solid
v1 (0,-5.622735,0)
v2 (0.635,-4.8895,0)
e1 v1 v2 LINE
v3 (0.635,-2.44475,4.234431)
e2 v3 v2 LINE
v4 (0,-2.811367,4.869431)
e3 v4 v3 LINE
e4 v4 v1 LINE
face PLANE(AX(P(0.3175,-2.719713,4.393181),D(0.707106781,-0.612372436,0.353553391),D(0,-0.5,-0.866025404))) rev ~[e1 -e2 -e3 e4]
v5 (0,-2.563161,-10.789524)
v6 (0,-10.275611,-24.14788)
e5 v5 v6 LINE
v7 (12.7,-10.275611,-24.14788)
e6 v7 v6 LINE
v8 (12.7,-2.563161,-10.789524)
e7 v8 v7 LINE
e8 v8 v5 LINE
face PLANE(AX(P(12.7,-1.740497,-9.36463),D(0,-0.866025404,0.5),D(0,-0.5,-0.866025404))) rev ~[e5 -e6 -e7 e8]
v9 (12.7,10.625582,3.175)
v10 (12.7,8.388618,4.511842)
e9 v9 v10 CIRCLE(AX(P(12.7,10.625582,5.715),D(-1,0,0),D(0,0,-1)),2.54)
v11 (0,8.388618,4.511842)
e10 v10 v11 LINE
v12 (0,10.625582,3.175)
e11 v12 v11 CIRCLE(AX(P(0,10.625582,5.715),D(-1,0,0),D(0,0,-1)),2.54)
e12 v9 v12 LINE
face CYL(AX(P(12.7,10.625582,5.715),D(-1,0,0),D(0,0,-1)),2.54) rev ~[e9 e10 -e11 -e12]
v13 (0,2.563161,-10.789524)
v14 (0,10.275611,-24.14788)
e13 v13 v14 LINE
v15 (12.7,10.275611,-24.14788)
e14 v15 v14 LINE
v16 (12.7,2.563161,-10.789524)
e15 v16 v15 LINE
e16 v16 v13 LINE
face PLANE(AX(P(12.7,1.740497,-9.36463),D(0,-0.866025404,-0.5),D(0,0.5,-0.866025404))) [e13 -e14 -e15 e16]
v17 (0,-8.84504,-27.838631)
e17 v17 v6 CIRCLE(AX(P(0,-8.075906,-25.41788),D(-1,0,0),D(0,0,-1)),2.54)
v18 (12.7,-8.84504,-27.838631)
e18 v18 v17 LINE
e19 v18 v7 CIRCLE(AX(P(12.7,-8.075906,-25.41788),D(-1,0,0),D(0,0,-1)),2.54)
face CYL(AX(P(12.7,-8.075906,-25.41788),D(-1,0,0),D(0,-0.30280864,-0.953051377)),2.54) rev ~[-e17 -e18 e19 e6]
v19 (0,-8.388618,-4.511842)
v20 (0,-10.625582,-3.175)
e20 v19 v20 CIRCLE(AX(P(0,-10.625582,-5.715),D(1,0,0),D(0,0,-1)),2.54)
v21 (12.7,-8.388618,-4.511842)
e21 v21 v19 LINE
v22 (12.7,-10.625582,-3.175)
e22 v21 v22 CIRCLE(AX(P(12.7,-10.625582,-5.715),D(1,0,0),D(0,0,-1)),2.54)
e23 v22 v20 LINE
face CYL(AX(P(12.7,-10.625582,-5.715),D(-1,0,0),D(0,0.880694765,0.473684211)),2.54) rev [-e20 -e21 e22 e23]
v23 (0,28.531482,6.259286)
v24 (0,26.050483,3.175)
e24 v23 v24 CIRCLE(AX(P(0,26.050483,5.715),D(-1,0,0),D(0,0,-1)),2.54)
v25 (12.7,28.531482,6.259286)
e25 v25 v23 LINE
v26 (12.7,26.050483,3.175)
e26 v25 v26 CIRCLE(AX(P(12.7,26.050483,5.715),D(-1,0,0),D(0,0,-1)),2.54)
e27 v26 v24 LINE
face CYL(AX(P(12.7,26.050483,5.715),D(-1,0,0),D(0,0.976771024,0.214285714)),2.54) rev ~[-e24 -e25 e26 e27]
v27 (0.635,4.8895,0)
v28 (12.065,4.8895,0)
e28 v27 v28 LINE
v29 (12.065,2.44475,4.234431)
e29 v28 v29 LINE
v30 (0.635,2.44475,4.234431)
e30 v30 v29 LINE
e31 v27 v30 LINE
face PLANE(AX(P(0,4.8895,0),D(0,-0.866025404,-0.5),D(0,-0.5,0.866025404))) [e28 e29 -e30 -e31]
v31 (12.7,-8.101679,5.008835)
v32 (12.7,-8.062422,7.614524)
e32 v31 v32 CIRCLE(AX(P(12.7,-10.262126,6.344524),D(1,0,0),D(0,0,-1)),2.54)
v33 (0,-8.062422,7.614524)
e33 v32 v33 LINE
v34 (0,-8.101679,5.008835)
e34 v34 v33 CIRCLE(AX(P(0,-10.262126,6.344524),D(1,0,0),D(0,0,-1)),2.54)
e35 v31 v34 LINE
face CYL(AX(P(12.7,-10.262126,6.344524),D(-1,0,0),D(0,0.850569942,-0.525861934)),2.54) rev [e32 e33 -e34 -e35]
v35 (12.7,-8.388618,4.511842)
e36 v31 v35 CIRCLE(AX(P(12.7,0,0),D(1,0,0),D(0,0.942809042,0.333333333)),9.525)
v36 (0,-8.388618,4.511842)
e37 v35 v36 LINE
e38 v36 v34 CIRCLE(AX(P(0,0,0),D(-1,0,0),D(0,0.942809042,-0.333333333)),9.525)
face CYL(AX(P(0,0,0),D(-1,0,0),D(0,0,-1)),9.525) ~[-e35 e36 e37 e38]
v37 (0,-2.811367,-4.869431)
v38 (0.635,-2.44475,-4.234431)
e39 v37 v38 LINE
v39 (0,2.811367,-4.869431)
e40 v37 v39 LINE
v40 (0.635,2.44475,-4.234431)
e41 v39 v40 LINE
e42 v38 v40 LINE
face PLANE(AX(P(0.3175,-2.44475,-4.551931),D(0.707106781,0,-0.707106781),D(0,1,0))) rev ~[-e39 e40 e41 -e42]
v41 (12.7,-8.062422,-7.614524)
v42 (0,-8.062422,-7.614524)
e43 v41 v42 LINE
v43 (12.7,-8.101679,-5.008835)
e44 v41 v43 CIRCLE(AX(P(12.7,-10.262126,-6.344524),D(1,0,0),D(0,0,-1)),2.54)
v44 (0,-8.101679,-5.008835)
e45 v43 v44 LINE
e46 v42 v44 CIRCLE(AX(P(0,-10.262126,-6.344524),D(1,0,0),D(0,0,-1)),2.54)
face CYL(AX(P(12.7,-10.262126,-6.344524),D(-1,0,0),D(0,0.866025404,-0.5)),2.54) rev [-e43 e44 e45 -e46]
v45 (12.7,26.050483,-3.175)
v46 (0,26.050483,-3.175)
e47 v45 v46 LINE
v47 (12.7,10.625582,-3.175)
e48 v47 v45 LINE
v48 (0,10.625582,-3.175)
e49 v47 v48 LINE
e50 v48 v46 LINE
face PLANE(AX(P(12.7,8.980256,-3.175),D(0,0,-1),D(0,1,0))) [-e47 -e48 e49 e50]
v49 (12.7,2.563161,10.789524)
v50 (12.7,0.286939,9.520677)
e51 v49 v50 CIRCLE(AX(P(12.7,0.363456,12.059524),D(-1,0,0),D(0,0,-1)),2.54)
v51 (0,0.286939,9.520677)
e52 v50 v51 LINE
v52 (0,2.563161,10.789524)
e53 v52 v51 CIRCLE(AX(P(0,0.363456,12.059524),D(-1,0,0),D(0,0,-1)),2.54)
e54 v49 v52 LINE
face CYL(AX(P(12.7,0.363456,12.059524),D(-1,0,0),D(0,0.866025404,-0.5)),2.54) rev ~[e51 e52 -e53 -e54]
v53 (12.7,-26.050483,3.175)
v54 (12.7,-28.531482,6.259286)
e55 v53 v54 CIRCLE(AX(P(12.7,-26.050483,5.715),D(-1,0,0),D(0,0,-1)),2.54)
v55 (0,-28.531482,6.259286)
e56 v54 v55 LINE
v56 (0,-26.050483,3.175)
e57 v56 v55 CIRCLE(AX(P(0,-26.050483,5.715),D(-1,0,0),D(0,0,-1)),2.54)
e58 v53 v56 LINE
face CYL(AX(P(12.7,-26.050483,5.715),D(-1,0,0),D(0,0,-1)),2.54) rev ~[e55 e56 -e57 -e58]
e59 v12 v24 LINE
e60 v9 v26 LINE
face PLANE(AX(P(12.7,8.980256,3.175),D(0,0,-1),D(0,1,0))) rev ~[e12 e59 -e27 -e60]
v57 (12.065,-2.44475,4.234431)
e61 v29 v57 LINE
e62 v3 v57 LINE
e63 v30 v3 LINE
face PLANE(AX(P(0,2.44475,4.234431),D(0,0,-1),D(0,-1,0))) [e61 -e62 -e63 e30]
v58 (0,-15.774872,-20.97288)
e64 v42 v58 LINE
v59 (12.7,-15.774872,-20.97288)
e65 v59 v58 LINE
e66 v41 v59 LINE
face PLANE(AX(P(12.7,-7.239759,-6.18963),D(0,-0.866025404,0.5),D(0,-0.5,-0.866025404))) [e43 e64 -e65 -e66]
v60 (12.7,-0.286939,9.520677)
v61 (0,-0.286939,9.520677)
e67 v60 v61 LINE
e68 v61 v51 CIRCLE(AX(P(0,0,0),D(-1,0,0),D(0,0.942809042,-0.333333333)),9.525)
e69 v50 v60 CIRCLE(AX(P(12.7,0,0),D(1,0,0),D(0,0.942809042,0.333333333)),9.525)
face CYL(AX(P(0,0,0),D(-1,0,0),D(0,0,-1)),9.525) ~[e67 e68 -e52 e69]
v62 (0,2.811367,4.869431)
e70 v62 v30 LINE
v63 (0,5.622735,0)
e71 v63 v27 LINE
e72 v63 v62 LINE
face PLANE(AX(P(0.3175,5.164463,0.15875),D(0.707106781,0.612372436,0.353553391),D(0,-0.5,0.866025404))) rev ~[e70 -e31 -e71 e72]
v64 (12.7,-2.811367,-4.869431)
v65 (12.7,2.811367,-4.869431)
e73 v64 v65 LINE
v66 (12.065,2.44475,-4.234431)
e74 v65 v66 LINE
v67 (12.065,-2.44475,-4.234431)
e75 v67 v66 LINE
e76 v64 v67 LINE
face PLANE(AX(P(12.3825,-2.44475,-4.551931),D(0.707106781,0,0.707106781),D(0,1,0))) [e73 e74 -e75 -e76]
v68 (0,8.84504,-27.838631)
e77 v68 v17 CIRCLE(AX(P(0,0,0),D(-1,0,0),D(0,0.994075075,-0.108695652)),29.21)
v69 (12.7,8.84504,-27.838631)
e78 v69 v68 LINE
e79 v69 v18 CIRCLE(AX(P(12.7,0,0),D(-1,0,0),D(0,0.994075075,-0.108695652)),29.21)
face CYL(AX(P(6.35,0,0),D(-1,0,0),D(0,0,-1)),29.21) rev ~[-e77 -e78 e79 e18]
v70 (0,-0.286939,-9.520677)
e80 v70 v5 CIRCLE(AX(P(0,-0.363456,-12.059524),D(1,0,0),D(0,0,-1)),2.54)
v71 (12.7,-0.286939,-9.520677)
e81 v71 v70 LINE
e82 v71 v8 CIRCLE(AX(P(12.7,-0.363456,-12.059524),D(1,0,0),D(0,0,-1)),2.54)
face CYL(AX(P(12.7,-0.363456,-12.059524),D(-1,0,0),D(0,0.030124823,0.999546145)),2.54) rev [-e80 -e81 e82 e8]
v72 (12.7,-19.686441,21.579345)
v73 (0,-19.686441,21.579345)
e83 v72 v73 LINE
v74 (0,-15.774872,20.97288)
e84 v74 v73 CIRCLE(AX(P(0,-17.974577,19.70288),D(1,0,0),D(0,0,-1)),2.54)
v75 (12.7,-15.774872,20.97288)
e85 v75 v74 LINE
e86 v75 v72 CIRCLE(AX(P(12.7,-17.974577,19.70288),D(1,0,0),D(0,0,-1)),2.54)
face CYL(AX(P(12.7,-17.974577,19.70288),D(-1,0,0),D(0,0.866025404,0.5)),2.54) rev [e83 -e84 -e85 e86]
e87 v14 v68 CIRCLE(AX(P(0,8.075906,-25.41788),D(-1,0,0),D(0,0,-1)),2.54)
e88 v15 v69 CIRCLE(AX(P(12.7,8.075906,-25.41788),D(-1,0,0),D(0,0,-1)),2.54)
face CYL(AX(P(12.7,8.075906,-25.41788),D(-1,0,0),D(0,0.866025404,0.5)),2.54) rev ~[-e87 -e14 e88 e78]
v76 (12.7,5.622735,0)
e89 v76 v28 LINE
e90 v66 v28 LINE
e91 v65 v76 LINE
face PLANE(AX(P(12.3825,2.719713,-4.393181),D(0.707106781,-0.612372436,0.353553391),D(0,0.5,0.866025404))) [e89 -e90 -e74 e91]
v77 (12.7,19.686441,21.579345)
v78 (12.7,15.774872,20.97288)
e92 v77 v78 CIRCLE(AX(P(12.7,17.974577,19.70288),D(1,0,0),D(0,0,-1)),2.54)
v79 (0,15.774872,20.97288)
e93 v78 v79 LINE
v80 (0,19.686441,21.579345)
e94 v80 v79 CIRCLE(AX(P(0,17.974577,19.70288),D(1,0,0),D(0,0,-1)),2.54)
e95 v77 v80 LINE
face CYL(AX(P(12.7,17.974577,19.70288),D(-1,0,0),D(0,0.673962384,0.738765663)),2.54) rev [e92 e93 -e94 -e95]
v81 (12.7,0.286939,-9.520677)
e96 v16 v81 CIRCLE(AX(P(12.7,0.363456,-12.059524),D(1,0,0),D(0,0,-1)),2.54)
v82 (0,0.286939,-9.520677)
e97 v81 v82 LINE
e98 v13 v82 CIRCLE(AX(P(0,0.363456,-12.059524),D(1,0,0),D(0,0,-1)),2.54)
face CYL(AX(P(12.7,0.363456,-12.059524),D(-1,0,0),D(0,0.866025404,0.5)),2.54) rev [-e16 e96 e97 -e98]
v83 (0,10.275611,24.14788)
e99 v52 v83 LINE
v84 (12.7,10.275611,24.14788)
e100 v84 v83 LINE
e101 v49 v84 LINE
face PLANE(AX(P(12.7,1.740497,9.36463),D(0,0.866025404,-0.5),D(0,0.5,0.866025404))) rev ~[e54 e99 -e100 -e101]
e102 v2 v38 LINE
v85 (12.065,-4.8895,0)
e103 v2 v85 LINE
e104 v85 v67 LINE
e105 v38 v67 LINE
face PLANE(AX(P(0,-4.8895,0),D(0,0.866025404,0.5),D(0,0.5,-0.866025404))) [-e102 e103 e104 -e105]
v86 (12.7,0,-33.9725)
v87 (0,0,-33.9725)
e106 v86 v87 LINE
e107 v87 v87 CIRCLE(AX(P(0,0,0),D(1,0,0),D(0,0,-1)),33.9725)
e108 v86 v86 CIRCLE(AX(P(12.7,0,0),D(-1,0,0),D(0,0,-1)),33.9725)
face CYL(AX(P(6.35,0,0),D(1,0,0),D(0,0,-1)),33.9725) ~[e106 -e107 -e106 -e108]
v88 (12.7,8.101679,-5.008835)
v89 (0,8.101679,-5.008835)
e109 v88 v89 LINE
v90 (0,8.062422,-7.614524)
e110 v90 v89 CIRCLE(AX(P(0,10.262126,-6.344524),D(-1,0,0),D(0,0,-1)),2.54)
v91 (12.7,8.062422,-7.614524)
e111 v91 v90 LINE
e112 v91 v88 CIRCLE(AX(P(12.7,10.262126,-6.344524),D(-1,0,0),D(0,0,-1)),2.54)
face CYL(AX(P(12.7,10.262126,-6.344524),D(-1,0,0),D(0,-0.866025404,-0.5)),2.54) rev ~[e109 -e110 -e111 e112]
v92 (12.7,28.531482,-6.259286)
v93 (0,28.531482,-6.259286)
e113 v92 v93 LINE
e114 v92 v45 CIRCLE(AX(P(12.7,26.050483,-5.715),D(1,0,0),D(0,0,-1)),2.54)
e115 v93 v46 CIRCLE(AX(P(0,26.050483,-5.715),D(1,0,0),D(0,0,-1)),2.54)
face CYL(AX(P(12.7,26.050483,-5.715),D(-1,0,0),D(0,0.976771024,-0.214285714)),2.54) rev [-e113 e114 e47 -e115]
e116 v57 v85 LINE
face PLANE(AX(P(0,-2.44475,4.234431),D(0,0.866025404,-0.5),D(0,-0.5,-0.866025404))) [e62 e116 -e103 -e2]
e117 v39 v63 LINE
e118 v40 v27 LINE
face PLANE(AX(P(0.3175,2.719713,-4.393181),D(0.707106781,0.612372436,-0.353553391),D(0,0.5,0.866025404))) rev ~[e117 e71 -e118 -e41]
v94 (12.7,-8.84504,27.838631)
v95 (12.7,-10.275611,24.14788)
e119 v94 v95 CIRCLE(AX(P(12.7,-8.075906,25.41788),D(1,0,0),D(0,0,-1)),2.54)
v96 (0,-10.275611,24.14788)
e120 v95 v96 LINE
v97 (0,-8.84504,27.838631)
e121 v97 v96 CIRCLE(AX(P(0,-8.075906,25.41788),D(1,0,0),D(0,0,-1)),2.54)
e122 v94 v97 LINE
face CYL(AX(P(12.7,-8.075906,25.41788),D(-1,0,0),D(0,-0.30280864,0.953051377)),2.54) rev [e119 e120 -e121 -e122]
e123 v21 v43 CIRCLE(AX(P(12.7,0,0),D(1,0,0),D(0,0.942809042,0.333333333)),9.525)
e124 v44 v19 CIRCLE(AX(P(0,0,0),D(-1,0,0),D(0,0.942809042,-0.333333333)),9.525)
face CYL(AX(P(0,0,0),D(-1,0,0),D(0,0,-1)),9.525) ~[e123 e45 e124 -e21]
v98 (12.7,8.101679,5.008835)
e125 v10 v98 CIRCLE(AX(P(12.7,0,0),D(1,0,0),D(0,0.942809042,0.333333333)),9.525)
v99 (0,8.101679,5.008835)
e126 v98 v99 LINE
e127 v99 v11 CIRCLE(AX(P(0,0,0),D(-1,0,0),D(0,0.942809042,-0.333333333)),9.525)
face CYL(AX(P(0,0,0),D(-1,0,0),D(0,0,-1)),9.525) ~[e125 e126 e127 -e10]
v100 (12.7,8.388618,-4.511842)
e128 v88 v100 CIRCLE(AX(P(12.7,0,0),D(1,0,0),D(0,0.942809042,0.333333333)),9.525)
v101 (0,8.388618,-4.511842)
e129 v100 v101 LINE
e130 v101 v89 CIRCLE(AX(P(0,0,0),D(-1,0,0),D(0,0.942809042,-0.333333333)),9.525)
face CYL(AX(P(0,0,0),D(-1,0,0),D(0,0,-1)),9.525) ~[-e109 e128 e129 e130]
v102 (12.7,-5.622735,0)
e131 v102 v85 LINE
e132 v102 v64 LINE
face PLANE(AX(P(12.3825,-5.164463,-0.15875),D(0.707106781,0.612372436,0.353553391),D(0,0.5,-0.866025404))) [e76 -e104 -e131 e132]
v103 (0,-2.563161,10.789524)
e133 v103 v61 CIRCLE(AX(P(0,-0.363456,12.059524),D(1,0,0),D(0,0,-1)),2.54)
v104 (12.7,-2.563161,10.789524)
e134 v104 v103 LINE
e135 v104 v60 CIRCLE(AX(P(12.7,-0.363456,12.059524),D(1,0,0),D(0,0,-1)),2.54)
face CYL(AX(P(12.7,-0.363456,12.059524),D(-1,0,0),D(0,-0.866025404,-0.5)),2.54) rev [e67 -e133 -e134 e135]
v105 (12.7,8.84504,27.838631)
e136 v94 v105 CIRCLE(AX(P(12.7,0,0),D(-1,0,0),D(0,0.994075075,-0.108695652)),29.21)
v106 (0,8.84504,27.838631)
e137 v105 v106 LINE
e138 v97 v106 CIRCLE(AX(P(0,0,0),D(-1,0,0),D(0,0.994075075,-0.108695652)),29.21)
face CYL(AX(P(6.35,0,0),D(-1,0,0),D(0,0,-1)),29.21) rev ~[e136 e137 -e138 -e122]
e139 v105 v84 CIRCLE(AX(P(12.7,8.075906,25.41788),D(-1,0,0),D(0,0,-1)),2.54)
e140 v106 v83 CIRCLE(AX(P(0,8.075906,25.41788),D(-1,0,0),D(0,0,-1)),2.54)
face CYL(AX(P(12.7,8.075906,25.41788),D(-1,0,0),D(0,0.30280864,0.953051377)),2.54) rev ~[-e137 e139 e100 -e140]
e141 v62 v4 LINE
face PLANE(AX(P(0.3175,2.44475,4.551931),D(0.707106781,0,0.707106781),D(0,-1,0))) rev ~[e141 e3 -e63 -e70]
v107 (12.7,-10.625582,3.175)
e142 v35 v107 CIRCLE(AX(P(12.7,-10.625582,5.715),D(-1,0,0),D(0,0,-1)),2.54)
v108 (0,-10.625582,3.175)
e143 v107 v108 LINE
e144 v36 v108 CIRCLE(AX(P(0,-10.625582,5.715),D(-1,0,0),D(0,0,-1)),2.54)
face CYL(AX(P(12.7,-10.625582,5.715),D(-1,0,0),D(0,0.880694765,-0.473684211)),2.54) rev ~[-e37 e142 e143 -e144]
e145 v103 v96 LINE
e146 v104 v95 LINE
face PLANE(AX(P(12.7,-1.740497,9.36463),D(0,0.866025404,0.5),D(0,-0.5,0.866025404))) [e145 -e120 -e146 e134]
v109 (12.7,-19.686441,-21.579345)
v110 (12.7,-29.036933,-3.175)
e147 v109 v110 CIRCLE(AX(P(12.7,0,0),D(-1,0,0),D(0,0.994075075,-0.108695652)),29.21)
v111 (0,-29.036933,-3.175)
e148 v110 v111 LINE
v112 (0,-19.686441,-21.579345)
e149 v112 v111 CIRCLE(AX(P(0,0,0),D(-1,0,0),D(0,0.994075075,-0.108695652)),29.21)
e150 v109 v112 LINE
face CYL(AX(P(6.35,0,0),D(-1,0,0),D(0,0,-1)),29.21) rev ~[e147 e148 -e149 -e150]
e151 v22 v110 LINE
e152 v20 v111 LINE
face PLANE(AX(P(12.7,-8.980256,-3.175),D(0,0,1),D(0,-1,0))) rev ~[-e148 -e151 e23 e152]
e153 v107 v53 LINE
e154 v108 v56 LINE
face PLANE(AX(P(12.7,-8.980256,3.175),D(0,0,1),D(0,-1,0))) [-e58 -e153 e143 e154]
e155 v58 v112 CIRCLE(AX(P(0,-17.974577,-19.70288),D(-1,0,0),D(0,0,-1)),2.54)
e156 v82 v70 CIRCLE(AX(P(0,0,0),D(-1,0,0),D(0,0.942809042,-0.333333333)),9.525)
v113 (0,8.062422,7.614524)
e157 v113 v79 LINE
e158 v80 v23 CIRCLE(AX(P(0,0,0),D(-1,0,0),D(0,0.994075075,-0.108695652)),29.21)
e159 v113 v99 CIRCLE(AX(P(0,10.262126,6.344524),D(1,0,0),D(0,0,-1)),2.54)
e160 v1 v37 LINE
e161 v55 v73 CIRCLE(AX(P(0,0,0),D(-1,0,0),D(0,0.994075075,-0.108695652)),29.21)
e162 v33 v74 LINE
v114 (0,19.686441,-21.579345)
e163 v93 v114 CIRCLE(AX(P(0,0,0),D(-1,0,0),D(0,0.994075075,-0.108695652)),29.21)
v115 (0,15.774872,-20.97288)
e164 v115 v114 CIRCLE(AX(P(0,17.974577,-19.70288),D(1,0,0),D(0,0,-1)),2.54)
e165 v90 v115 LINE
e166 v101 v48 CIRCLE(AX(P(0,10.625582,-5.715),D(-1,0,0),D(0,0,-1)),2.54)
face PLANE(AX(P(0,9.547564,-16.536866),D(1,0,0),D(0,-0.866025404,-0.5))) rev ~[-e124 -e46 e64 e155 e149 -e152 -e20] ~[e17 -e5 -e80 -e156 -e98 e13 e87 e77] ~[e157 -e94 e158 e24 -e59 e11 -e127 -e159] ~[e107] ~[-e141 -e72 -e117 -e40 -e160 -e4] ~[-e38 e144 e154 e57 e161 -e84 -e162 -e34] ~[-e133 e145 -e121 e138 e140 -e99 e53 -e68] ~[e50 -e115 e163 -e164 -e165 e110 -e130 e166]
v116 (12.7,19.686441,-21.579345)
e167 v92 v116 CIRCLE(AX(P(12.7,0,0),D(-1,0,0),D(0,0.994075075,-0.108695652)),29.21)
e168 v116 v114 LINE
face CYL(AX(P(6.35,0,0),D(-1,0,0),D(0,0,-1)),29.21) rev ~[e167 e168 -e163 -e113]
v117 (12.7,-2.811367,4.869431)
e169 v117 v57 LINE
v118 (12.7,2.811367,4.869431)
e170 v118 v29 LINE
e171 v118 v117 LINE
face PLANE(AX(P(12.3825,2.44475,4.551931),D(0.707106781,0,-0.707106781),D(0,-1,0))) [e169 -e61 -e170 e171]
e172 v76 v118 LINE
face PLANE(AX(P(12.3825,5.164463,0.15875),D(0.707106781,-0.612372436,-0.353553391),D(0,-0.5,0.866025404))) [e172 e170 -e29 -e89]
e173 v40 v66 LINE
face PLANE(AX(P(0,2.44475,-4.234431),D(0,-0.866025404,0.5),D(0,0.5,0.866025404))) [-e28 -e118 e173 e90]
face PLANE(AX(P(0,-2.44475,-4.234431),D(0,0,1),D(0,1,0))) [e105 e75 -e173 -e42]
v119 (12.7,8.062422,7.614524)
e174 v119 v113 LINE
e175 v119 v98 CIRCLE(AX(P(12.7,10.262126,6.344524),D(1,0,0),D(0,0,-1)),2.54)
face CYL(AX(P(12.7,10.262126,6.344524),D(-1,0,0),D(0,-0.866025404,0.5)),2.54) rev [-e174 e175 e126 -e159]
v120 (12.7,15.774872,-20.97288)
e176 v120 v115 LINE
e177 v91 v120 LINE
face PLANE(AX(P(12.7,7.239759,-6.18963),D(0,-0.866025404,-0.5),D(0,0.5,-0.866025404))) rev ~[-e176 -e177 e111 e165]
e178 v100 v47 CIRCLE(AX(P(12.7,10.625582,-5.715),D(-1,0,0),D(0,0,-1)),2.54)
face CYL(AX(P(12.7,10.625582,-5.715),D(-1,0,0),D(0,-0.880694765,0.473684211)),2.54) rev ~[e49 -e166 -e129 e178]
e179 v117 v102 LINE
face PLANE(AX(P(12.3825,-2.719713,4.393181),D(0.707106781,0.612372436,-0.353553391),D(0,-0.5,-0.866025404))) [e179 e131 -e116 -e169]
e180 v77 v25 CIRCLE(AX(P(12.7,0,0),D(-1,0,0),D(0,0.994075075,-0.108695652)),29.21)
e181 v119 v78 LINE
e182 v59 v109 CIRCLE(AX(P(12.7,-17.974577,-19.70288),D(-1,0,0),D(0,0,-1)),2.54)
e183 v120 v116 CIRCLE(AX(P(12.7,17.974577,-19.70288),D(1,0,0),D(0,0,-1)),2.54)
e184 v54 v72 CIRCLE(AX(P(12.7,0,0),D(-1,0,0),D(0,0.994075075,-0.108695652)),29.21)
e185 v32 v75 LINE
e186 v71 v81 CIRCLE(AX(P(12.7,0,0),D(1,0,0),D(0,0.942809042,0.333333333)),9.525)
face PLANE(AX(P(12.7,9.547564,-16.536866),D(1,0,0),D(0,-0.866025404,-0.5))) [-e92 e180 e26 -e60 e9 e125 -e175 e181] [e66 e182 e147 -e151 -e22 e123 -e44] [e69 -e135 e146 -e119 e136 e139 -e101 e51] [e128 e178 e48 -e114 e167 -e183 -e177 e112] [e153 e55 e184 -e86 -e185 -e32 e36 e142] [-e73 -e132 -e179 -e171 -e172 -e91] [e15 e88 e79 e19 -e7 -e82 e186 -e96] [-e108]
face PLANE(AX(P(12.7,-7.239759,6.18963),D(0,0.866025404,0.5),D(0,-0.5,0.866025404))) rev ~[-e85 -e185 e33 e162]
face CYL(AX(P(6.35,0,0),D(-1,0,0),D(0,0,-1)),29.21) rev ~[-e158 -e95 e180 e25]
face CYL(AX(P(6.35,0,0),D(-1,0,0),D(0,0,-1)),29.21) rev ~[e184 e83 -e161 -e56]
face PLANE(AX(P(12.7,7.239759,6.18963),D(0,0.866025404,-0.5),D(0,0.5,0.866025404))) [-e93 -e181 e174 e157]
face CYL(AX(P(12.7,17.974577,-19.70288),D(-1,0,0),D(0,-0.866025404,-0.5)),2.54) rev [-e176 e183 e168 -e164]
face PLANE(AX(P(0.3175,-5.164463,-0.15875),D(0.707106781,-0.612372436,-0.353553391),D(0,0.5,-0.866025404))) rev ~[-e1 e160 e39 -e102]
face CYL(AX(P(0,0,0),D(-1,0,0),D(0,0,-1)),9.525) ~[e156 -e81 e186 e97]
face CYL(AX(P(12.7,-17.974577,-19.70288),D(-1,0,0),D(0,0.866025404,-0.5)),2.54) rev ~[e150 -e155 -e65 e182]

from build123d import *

# Parameters (mm, degrees)
AXLE_PROFILE_R              = 9.525
WHEEL_HUB_DEPTH             = 12.7
WHEEL_RIM_REACH             = 16.892
SKETCH3_R                   = 33.9725
SKETCH3_R_2                 = 29.21
WHEEL_RIM_DIRECTION_2_REACH = 16.892
SKETCH4_W                   = 6.35
SKETCH4_H                   = 20.229743879
BOSS_EXTRUDE1_DEPTH         = 12.7
SPOKES_COUNT                = 6
SPOKE_FILLETS_R             = 2.54
SHAFT_CHAMFERS_SIZE         = 0.635


with BuildPart() as part:
    # Axle Profile → Wheel Hub (new body)
    with BuildSketch(Plane(origin=(0, 0, 0), x_dir=(0, 0, -1), z_dir=(1, 0, 0))):
        Circle(AXLE_PROFILE_R)
        Polygon((0, -4.8895), (4.234431212, -2.44475), (4.234431212, 2.44475), (0, 4.8895), (-4.234431212, 2.44475), (-4.234431212, -2.44475), align=None, mode=Mode.SUBTRACT)
    extrude(amount=WHEEL_HUB_DEPTH)

    # Wheel Rim: up to this face of the body (flat: up to its plane)
    wheel_rim_end = Plane(part.part.faces().sort_by_distance((0, 0, 9.255592316))[0])
    # Sketch3 → Wheel Rim (add, up to the picked face)
    with BuildSketch(Plane.ZY.offset(-6.35), mode=Mode.PRIVATE) as wheel_rim_sk1:
        with Locations(Location((0, 0, 0), (0, 0, 180))):
            Circle(SKETCH3_R)
        with Locations(Location((0, 0, 0), (0, 0, 180))):
            Circle(SKETCH3_R_2, mode=Mode.SUBTRACT)
    wheel_rim_tool1 = split(extrude(wheel_rim_sk1.sketch, amount=WHEEL_RIM_REACH, mode=Mode.PRIVATE), bisect_by=wheel_rim_end, keep=Keep.BOTH, mode=Mode.PRIVATE)
    add(wheel_rim_tool1.solids().sort_by(Axis((6.35, 0, 33.011613), (-1, 0, 0)))[0])

    # Wheel Rim direction 2: up to this face of the body (flat: up to its plane)
    wheel_rim_direction_2_end = Plane(part.part.faces().sort_by_distance((12.7, 0, 9.255592316))[0])
    # Sketch3 → Wheel Rim direction 2 (add, up to the picked face)
    with BuildSketch(Plane.ZY.offset(-6.35), mode=Mode.PRIVATE) as wheel_rim_direction_2_sk1:
        with Locations(Location((0, 0, 0), (0, 0, 180))):
            Circle(SKETCH3_R)
        with Locations(Location((0, 0, 0), (0, 0, 180))):
            Circle(SKETCH3_R_2, mode=Mode.SUBTRACT)
    wheel_rim_direction_2_tool1 = split(extrude(wheel_rim_direction_2_sk1.sketch, amount=-WHEEL_RIM_DIRECTION_2_REACH, mode=Mode.PRIVATE), bisect_by=wheel_rim_direction_2_end, keep=Keep.BOTH, mode=Mode.PRIVATE)
    add(wheel_rim_direction_2_tool1.solids().sort_by(Axis((6.35, 0, 33.011613), (1, 0, 0)))[0])

    # Sketch4 → Boss-Extrude1 (add)
    with BuildSketch(Plane(origin=(12.7, 0, 0), x_dir=(0, 0, -1), z_dir=(1, 0, 0))):
        with Locations((0, 19.095128061)):
            Rectangle(SKETCH4_W, SKETCH4_H)
    boss_extrude1 = extrude(amount=-BOSS_EXTRUDE1_DEPTH)

    # Spokes: Boss-Extrude1 ×6 about axis
    spokes_axis = Axis((0, 0, 0), (1, 0, 0))
    for i in range(1, SPOKES_COUNT):
        add(boss_extrude1.rotate(spokes_axis, i * 360 / SPOKES_COUNT))

    # Spoke Fillets
    spoke_fillets_edges = [part.edges().sort_by_distance(p)[0] for p in [
        (6.35, 7.239758718, -6.189629933),
        (6.35, 1.740497404, -9.364629933),
        (6.35, -1.740497404, -9.364629933),
        (6.35, -7.239758718, -6.189629933),
        (6.35, -8.980256121, -3.175),
        (6.35, -8.980256121, 3.175),
        (6.35, -7.239758718, 6.189629933),
        (6.35, -1.740497404, 9.364629933),
        (6.35, 1.740497404, 9.364629933),
        (6.35, 7.239758718, 6.189629933),
        (6.35, 8.980256121, 3.175),
        (6.35, 8.980256121, -3.175),
        (9.525, 29.036932948, -3.175),
        (9.525, 29.036932948, 3.175),
        (3.175, 17.268097131, 23.559221581),
        (3.175, 11.768835817, 26.734221581),
        (9.525, -11.768835817, 26.734221581),
        (9.525, -17.268097131, 23.559221581),
        (9.525, -29.036932948, 3.175),
        (3.175, -17.268097131, -23.559221581),
        (3.175, -11.768835817, -26.734221581),
        (9.525, 11.768835817, -26.734221581),
        (3.175, 17.268097131, -23.559221581),
    ]]
    fillet(spoke_fillets_edges, radius=SPOKE_FILLETS_R)

    # Shaft Chamfers
    shaft_chamfers_edges = [part.edges().sort_by_distance(p)[0] for p in [
        (0, 0, -4.234431212),
        (0, 3.667125, -2.117215606),
        (0, 3.667125, 2.117215606),
        (0, 0, 4.234431212),
        (12.7, -3.667125, 2.117215606),
        (12.7, -3.667125, -2.117215606),
        (12.7, 0, -4.234431212),
        (12.7, 3.667125, -2.117215606),
        (12.7, 3.667125, 2.117215606),
        (12.7, 0, 4.234431212),
        (0, -3.667125, 2.117215606),
        (0, -3.667125, -2.117215606),
    ]]
    chamfer(shaft_chamfers_edges, length=SHAFT_CHAMFERS_SIZE)


solid = part.part
